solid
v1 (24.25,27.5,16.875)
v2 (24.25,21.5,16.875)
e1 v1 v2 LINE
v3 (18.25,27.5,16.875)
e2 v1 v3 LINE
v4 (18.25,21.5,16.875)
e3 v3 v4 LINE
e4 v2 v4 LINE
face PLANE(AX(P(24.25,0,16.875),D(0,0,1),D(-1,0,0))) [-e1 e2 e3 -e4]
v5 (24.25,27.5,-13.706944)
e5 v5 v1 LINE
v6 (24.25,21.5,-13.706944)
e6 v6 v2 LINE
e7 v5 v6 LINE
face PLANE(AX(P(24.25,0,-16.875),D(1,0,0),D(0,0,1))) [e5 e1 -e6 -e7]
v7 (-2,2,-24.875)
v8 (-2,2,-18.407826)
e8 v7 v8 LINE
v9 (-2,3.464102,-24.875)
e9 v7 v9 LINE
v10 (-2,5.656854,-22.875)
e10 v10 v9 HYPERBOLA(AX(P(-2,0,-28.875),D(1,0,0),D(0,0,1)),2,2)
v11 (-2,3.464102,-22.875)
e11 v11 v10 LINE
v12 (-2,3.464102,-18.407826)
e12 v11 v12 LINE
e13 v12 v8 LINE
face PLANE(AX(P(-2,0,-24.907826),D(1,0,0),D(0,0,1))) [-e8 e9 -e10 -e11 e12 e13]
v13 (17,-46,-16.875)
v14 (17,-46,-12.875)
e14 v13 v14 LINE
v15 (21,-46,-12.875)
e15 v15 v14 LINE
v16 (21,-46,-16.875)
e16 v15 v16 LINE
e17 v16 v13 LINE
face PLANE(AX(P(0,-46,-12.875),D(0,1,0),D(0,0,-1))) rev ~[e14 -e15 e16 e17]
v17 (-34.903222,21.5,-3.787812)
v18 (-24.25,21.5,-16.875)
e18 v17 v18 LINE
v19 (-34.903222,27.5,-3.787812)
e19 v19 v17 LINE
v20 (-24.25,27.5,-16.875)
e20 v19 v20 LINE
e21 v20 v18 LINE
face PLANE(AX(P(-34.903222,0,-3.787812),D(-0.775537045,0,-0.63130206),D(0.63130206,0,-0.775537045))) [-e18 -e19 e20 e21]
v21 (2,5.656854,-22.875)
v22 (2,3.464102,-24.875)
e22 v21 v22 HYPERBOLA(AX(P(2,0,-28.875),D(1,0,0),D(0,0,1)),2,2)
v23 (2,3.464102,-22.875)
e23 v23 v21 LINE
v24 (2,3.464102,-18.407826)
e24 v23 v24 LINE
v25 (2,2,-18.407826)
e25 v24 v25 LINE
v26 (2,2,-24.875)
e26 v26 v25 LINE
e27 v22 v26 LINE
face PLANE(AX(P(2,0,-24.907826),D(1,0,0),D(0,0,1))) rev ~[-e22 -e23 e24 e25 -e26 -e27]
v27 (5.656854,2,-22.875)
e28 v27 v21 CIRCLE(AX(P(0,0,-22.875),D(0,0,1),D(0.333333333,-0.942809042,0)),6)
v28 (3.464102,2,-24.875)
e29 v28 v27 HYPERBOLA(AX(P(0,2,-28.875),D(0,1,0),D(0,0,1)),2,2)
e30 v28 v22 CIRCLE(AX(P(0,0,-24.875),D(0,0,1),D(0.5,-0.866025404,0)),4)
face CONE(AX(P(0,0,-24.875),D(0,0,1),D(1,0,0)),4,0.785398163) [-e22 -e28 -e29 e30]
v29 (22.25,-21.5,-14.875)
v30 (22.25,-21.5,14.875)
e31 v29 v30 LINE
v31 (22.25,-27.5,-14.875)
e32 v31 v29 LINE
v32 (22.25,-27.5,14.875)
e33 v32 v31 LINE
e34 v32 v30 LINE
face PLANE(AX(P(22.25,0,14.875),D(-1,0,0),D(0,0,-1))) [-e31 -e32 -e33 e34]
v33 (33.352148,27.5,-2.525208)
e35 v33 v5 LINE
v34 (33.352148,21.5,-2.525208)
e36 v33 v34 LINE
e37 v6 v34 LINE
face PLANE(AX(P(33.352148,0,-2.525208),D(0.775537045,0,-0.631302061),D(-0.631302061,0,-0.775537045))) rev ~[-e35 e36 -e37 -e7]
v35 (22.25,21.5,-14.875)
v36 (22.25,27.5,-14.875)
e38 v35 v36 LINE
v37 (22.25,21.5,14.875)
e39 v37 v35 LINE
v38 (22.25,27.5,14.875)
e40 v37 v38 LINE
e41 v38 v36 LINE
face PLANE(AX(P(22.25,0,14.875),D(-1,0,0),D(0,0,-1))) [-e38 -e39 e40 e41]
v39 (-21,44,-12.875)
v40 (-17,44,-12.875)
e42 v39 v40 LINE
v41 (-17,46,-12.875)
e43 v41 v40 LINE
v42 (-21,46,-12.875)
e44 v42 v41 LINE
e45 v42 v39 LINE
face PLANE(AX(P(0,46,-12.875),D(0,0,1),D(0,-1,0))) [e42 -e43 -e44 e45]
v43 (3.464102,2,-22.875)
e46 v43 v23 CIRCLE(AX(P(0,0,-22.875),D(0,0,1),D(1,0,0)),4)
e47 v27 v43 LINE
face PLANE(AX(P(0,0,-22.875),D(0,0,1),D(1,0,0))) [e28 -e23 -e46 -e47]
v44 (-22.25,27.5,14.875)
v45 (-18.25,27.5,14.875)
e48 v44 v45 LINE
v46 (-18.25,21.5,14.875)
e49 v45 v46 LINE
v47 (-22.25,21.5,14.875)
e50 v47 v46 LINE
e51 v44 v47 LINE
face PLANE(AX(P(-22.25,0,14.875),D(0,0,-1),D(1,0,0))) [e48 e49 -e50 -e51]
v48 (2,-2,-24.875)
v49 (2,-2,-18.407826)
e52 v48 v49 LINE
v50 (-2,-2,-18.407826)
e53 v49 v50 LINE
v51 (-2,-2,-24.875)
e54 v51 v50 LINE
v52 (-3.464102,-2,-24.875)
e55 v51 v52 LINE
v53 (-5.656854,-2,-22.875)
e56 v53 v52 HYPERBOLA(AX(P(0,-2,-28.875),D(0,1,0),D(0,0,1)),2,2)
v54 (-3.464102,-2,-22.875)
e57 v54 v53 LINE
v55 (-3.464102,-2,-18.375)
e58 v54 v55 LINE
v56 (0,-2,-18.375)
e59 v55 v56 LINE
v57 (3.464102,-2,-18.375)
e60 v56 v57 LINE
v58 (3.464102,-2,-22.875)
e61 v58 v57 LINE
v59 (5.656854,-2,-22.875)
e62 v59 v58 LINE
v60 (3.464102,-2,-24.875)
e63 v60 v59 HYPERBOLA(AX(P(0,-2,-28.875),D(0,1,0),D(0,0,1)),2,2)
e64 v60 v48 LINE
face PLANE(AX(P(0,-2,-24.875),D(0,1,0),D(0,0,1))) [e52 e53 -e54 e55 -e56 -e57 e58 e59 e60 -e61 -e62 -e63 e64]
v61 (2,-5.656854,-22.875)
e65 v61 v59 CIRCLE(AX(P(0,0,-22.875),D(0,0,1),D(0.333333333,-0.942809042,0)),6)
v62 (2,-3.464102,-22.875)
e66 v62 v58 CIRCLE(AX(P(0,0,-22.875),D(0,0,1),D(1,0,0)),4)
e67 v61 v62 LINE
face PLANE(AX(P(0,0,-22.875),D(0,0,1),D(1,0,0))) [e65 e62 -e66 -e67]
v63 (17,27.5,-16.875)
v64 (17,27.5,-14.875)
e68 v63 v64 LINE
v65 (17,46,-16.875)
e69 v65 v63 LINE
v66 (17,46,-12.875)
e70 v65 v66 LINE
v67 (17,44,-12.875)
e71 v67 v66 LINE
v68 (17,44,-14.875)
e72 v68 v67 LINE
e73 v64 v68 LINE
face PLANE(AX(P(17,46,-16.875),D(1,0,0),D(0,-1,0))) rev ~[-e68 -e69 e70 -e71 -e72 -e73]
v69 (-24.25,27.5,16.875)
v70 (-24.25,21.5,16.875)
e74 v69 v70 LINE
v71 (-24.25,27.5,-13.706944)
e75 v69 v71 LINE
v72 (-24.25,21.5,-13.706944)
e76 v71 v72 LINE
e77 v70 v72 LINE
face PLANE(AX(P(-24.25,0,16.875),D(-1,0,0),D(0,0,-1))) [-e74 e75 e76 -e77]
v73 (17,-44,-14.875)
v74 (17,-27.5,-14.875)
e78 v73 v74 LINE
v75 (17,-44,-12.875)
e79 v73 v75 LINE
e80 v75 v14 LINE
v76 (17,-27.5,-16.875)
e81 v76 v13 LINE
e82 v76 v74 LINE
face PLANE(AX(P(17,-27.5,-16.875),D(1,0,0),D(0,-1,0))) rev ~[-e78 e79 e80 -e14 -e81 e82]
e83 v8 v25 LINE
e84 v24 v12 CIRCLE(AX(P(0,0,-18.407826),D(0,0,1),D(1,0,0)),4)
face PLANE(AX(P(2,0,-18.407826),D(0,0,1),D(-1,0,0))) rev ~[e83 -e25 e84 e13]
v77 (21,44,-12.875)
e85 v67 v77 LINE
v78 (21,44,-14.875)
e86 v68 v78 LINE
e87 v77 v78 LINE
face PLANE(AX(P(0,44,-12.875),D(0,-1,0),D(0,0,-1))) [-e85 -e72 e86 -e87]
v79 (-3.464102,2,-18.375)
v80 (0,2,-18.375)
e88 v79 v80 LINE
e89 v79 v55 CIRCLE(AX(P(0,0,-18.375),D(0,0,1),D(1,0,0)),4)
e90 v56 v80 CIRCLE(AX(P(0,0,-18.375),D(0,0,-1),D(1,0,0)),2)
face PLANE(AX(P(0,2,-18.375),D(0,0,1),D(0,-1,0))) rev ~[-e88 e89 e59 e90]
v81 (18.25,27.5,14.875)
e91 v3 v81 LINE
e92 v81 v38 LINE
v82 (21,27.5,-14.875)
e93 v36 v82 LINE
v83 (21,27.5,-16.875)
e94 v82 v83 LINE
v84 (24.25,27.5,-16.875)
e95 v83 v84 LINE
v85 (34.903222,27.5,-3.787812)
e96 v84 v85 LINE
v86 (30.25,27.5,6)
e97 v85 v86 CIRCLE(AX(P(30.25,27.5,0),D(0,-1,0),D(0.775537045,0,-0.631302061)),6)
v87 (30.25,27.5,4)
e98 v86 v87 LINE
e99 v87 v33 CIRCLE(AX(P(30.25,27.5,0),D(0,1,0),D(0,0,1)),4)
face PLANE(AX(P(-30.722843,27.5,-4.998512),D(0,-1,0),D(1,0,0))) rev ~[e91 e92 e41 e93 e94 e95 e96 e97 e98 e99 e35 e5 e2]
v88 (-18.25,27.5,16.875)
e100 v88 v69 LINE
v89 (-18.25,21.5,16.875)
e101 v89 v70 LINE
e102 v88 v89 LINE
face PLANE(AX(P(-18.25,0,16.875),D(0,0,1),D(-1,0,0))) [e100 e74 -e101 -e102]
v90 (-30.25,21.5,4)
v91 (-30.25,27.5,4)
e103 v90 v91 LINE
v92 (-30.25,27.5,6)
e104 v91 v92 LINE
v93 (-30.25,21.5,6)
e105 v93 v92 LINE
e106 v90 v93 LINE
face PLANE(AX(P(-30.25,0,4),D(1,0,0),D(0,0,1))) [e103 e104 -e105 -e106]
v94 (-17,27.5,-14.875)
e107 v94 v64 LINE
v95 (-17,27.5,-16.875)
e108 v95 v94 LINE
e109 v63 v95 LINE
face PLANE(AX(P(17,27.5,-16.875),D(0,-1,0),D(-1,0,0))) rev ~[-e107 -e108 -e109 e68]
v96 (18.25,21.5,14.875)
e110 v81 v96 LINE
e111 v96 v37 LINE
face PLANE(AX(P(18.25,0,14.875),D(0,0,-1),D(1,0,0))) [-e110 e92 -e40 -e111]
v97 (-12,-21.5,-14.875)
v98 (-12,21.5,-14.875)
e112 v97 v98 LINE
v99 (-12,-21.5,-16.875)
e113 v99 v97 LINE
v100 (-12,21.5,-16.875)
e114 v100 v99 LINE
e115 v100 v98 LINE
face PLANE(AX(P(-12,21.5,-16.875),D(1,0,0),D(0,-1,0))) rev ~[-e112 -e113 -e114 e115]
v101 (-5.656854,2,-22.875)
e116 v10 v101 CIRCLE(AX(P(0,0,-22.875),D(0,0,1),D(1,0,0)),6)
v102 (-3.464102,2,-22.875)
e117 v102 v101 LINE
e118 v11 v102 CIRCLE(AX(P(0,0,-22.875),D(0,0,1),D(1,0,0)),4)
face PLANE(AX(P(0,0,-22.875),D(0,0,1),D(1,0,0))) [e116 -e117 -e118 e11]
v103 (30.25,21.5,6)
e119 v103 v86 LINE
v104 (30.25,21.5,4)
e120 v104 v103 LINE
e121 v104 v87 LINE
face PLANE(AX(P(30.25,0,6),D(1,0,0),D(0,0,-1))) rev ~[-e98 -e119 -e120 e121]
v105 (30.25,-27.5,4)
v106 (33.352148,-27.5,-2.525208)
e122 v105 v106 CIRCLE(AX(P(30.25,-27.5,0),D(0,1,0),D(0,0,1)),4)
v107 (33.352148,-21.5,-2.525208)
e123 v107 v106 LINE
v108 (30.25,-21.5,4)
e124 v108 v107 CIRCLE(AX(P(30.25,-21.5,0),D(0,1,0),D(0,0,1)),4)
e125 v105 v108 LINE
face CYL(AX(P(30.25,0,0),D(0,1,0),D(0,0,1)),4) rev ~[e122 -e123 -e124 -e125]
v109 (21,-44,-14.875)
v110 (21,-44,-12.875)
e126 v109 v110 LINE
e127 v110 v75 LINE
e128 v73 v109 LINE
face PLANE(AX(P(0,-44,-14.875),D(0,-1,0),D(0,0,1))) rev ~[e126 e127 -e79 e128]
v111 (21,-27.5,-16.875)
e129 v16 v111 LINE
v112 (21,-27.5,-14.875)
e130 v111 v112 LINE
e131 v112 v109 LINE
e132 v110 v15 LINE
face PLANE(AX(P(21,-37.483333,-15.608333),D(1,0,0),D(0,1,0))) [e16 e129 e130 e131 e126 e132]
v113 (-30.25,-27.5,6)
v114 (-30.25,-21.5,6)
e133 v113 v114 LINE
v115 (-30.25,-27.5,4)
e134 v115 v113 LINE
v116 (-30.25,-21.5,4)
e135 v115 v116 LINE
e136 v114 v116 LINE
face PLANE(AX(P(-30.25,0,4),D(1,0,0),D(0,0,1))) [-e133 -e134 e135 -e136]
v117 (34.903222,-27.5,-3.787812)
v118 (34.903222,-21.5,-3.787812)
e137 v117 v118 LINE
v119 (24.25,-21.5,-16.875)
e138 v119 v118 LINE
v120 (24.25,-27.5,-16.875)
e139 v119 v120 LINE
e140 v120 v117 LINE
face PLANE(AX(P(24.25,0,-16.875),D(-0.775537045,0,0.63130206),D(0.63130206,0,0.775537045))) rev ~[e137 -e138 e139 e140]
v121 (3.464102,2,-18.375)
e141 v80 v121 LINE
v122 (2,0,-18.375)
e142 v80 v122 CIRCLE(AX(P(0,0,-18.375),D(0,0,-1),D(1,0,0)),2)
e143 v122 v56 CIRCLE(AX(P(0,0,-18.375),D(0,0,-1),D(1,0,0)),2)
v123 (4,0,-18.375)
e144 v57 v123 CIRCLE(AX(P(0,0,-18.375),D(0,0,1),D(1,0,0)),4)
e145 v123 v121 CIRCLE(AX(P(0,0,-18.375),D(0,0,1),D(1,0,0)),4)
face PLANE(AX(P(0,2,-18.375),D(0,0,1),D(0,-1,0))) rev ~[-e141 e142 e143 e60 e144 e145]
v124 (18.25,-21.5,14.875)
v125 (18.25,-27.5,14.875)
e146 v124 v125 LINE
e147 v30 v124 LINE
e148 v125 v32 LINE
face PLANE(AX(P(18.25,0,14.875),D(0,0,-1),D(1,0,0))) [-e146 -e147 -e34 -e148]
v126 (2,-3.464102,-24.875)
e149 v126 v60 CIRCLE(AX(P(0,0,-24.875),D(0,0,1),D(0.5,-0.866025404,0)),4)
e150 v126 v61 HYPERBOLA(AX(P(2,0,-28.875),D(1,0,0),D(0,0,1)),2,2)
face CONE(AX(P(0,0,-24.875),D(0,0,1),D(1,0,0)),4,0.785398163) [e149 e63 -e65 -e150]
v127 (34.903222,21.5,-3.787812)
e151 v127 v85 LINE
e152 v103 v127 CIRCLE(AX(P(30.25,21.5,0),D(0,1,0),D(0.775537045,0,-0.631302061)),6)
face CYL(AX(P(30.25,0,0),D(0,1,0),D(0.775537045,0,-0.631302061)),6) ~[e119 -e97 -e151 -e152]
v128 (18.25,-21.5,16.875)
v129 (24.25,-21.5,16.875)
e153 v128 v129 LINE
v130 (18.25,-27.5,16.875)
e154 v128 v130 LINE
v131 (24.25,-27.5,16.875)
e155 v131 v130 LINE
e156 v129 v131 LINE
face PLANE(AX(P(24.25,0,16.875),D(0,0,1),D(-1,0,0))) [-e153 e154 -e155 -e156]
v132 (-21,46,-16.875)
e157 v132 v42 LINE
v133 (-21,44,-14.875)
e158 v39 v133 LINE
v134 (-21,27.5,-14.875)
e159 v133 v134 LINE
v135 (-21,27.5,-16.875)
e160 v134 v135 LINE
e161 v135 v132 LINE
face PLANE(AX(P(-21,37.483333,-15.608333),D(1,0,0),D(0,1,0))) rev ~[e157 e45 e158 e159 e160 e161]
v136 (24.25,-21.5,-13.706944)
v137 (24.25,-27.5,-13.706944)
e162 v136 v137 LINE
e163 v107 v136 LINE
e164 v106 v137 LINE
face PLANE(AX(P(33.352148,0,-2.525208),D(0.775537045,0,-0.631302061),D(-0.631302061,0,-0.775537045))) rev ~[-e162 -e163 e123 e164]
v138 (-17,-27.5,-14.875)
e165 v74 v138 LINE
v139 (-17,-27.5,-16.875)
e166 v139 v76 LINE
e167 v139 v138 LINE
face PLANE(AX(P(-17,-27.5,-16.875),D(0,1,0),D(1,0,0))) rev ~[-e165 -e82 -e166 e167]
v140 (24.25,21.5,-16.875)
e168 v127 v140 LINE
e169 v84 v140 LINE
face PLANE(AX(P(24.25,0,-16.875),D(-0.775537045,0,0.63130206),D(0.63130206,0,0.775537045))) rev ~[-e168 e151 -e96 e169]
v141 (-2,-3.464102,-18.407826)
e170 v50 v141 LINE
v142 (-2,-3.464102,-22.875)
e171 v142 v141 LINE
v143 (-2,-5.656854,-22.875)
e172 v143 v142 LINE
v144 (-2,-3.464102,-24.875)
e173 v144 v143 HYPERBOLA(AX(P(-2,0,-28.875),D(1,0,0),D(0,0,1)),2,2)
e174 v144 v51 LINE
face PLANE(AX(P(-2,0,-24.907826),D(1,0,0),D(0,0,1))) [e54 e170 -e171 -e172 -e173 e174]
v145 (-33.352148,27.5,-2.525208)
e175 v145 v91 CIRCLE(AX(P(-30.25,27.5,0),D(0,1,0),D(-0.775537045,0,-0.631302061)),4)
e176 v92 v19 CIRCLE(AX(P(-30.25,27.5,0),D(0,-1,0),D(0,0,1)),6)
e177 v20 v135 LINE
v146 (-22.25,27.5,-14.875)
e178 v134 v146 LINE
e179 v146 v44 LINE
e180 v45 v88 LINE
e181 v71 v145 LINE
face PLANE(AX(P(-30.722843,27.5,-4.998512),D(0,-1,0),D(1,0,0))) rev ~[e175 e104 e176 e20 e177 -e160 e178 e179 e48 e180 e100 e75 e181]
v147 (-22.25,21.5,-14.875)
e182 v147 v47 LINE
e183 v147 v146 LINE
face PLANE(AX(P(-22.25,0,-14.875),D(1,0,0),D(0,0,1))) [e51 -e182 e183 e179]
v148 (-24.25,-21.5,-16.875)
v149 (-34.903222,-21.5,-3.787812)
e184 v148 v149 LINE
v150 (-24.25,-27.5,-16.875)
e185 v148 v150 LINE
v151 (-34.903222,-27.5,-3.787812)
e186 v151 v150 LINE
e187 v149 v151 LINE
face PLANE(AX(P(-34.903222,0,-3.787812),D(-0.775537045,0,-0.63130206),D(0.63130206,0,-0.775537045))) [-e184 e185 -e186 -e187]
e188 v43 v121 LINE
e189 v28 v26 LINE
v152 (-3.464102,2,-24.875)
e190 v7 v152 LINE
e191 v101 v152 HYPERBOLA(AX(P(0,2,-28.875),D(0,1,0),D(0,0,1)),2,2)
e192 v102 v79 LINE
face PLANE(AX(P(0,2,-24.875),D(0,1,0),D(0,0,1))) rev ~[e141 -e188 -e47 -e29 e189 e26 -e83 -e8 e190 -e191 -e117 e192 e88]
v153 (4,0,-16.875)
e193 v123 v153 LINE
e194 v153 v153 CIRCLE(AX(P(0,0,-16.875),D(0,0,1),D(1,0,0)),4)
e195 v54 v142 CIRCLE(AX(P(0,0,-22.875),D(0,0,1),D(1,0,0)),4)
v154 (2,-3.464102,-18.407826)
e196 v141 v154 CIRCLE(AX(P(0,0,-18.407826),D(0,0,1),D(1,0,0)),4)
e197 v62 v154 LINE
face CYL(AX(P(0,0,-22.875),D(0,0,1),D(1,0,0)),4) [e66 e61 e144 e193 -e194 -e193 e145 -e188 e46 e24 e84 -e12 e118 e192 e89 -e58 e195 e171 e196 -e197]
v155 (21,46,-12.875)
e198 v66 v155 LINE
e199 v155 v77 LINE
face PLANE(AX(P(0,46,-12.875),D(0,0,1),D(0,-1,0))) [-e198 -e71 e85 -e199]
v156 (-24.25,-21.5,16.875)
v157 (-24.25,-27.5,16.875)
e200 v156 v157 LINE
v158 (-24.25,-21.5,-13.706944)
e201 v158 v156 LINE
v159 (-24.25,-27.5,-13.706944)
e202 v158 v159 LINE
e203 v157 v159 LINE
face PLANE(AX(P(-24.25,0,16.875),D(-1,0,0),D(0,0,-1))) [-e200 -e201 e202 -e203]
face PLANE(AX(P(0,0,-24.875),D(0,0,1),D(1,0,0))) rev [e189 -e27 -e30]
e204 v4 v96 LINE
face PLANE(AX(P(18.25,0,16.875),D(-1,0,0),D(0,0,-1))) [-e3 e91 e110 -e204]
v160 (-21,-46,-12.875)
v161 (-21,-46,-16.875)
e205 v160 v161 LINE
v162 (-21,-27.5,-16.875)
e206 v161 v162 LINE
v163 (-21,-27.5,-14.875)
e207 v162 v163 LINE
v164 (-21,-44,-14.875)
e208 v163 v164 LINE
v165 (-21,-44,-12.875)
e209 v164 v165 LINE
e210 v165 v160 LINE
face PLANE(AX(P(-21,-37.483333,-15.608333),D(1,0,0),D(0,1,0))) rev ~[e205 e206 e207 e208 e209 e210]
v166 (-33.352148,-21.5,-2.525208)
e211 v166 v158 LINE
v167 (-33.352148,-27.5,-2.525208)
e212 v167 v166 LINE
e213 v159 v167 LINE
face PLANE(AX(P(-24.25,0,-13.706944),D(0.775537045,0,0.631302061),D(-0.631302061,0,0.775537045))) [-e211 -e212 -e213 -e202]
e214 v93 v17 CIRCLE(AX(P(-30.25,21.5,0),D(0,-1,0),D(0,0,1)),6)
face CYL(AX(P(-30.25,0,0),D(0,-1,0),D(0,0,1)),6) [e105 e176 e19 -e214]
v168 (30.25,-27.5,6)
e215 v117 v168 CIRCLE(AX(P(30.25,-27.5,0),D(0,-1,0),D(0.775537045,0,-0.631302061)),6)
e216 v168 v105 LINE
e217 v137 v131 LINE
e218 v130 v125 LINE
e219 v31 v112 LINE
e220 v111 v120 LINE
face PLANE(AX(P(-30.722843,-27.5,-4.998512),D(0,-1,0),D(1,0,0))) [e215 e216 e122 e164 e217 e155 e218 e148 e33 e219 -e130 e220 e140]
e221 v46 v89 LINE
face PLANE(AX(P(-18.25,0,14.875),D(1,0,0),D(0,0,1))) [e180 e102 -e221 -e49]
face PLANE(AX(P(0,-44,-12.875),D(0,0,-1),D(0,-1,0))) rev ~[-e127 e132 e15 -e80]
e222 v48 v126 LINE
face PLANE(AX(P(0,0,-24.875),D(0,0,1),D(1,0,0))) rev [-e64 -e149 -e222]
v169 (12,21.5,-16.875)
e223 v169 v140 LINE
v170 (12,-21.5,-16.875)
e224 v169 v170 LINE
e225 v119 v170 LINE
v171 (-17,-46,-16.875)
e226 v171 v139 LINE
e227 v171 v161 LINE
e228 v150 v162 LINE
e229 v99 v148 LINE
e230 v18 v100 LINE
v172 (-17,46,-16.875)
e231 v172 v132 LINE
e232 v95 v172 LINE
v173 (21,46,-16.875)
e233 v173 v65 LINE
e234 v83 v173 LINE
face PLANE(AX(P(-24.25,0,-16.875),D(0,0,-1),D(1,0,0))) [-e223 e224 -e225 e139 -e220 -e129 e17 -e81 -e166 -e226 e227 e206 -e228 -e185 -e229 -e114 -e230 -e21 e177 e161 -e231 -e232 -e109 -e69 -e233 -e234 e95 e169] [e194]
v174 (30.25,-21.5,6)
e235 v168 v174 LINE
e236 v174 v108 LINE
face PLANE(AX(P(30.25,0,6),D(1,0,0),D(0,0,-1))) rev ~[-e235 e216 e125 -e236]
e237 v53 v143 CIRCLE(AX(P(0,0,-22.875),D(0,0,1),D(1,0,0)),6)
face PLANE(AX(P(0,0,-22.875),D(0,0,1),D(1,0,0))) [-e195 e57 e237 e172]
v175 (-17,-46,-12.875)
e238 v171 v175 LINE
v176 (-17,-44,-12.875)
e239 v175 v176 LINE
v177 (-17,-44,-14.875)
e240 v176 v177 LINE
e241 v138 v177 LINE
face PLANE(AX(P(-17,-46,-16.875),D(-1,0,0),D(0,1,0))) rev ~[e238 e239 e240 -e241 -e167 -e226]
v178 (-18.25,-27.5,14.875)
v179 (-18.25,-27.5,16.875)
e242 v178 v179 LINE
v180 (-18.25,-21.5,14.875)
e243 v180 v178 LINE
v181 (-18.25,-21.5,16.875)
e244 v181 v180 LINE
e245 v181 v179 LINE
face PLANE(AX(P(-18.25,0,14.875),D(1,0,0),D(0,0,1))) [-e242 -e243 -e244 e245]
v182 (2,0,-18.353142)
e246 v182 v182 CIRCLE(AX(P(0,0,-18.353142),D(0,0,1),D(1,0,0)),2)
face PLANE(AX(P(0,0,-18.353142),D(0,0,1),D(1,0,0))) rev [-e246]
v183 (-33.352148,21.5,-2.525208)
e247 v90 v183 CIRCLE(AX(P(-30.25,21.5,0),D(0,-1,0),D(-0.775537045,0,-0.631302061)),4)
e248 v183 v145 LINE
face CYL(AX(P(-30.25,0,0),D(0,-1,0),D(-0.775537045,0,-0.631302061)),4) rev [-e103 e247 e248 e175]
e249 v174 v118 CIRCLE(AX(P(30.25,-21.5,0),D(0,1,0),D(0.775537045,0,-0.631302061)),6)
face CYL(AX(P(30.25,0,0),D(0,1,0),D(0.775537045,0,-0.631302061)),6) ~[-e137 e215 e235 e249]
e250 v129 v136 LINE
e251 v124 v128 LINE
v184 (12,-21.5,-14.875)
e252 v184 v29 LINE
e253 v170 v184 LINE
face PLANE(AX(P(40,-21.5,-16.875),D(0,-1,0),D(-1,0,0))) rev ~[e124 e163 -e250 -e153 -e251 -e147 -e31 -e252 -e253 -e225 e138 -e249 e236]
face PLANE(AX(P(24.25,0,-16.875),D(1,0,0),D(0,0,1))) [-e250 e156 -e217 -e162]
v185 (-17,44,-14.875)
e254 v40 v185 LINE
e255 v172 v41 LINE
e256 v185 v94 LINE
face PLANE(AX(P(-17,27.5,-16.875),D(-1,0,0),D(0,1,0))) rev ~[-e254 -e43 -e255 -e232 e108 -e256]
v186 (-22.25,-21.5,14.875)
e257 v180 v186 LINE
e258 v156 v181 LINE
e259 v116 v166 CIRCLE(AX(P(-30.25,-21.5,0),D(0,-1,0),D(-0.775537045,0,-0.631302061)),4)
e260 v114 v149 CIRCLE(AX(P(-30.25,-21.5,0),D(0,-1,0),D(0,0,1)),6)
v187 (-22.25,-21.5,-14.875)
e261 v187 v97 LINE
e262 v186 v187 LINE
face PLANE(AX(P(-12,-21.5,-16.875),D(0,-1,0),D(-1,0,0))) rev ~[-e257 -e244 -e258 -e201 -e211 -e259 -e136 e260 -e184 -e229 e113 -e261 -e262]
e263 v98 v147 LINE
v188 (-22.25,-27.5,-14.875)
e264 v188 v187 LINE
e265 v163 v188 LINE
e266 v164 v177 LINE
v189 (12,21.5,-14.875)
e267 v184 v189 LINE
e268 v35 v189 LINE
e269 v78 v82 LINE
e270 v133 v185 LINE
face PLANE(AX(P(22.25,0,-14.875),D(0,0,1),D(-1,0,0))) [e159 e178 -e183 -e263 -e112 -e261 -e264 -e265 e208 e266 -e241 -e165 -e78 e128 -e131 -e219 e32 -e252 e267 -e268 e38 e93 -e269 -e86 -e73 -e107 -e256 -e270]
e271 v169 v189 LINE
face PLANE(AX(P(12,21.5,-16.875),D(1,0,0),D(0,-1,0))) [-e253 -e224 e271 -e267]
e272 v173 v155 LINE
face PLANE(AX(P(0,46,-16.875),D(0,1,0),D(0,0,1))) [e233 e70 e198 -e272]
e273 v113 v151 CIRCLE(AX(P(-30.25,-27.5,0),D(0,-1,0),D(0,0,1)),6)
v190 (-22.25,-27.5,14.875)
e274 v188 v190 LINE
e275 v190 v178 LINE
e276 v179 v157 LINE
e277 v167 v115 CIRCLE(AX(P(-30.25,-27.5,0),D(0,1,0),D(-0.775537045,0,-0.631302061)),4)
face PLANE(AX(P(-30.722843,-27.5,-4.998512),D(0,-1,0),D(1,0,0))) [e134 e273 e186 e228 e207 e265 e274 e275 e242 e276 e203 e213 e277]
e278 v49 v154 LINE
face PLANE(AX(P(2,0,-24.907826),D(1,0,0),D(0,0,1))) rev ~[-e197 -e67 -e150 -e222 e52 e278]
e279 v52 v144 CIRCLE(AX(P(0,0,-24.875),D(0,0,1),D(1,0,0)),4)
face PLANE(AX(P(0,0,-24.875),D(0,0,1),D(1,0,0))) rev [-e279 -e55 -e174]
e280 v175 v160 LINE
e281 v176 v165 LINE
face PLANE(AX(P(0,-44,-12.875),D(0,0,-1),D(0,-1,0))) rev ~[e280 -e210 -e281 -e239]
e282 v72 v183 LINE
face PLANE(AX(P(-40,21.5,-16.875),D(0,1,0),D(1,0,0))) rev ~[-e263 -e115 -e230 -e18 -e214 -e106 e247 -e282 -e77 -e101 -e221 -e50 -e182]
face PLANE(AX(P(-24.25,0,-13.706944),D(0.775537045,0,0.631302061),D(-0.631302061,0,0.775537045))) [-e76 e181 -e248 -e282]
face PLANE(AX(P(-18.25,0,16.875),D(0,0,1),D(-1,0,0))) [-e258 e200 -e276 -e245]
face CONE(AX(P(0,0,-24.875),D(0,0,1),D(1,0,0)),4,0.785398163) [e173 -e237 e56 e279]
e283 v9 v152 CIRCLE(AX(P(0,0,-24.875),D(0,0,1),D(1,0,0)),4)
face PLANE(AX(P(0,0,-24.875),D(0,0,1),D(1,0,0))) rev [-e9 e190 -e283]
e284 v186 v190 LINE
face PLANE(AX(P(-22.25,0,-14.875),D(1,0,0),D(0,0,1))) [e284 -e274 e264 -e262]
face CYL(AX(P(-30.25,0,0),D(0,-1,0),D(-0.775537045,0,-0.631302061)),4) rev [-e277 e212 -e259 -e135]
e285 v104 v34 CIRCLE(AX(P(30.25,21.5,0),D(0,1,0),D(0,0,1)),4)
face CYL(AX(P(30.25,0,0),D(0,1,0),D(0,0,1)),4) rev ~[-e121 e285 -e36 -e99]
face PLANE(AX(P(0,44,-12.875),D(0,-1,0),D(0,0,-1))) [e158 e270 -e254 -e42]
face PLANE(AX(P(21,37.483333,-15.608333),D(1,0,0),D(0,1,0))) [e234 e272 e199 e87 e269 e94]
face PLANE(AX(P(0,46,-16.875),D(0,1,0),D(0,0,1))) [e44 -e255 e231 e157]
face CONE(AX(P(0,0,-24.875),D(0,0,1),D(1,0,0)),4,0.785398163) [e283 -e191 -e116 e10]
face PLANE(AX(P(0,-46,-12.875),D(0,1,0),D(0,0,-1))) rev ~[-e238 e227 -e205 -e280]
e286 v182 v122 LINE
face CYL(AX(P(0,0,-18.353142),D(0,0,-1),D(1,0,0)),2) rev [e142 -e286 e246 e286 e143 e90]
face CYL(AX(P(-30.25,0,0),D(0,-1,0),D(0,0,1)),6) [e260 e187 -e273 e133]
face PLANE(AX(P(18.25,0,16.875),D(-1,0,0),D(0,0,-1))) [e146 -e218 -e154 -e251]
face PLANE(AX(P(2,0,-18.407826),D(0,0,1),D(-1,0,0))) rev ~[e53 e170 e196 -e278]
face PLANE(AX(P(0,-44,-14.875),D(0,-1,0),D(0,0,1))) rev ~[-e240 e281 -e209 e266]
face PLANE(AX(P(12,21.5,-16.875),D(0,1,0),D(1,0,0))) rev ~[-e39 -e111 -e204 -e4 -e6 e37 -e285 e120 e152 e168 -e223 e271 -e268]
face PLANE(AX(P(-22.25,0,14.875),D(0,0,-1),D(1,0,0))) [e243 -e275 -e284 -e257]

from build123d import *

# Parameters (mm, degrees)
F3_DEPTH  = 27.5
F5_DEPTH  = 27.5
F4_W      = 15.75
F4_H      = 43
F4_W_2    = 12.25
F6_DEPTH  = 33.751
F8_DEPTH  = 21
F10_DEPTH = 33.751
F11_W     = 2
F11_H     = 6.5
F12_DEPTH = 10
F13_W     = 2
F13_H     = 6.5
F14_DEPTH = 12.5


with BuildPart() as f1:
    # F0 (on Front) → F1 (revolve)
    with BuildSketch(Plane.XZ):
        Polygon((2, -16.875), (0, -16.875), (0, -18.3531418443), (2, -18.3531418443), (2, -24.875), (4, -24.875), (6, -22.875), (4, -22.875), (4, -16.875), align=None)
    revolve(axis=Axis((0, 0, -17.6140709221), (0, 0, 1)))

    # F0 (on Front) → F3 (join, symmetric)
    with BuildSketch(Plane.XZ):
        Polygon((-22.25, -14.875), (-22.25, 14.875), (-18.25, 14.875), (-18.25, 16.875), (-24.25, 16.875), (-24.25, -16.875), (0, -16.875), (2, -16.875), (4, -16.875), (24.25, -16.875), (24.25, 16.875), (18.25, 16.875), (18.25, 14.875), (22.25, 14.875), (22.25, -14.875), align=None)
    extrude(amount=F3_DEPTH, both=True)

    # F2 (on Front) → F5 (join, symmetric)
    with BuildSketch(Plane.XZ):
        with BuildLine():
            ThreePointArc((30.25, 4), (33.8625360184, 1.7174351563), (33.3521481806, -2.525208242))
            Line((33.3521481806, -2.525208242), (24.25, -13.7069444444))
            Line((24.25, -13.7069444444), (24.25, -16.875))
            Line((24.25, -16.875), (34.9032222709, -3.787812363))
            ThreePointArc((34.9032222709, -3.787812363), (35.6688040276, 2.5761527344), (30.25, 6))
            Line((30.25, 6), (30.25, 4))
        make_face()
        with BuildLine():
            ThreePointArc((-30.25, 6), (-35.6688040276, 2.5761527344), (-34.9032222709, -3.787812363))
            Line((-34.9032222709, -3.787812363), (-24.25, -16.875))
            Line((-24.25, -16.875), (-24.25, -13.7069444444))
            Line((-24.25, -13.7069444444), (-33.3521481806, -2.525208242))
            ThreePointArc((-33.3521481806, -2.525208242), (-33.8625360184, 1.7174351563), (-30.25, 4))
            Line((-30.25, 4), (-30.25, 6))
        make_face()
    extrude(amount=F5_DEPTH, both=True)

    # F4 (on face) → F6 (cut, through all)
    with BuildSketch(Plane(origin=(0, 0, -16.875), x_dir=(1, 0, 0), z_dir=(0, 0, -1))):
        with Locations((-32.125, 0)):
            Rectangle(F4_W, F4_H)
        with Locations((-18.125, 0)):
            Rectangle(F4_W_2, F4_H)
        with Locations((18.125, 0)):
            Rectangle(F4_W_2, F4_H)
        with Locations((32.125, 0)):
            Rectangle(F4_W, F4_H)
    extrude(amount=-F6_DEPTH, mode=Mode.SUBTRACT)

    # F7 (on Right) → F8 (join, symmetric)
    with BuildSketch(Plane.YZ):
        Polygon((-46, -16.875), (-27.5, -16.875), (-27.5, -14.875), (-44, -14.875), (-44, -12.875), (-46, -12.875), align=None)
        Polygon((46, -16.875), (46, -12.875), (44, -12.875), (44, -14.875), (27.5, -14.875), (27.5, -16.875), align=None)
    extrude(amount=F8_DEPTH, both=True)

    # F9 (on face) → F10 (cut, through all)
    with BuildSketch(Plane(origin=(0, 0, -16.875), x_dir=(1, 0, 0), z_dir=(0, 0, -1))):
        Polygon((17, 46), (-17, 46), (-17, 27.5), (0, 27.5), (17, 27.5), align=None)
        Polygon((-17, -27.5), (-17, -46), (17, -46), (17, -27.5), (0, -27.5), align=None)
    extrude(amount=-F10_DEPTH, mode=Mode.SUBTRACT)

    # F11 (on Front) → F12 (cut, symmetric)
    with BuildSketch(Plane.XZ):
        with Locations((1, -21.6578255147)):
            Rectangle(F11_W, F11_H)
        with Locations((-1, -21.6578255147)):
            Rectangle(F11_W, F11_H)
    extrude(amount=F12_DEPTH, both=True, mode=Mode.SUBTRACT)

    # F13 (on Right) → F14 (cut, symmetric)
    with BuildSketch(Plane.YZ):
        with Locations((1, -21.625)):
            Rectangle(F13_W, F13_H)
        with Locations((-1, -21.625)):
            Rectangle(F13_W, F13_H)
    extrude(amount=F14_DEPTH, both=True, mode=Mode.SUBTRACT)


solid = f1.part
